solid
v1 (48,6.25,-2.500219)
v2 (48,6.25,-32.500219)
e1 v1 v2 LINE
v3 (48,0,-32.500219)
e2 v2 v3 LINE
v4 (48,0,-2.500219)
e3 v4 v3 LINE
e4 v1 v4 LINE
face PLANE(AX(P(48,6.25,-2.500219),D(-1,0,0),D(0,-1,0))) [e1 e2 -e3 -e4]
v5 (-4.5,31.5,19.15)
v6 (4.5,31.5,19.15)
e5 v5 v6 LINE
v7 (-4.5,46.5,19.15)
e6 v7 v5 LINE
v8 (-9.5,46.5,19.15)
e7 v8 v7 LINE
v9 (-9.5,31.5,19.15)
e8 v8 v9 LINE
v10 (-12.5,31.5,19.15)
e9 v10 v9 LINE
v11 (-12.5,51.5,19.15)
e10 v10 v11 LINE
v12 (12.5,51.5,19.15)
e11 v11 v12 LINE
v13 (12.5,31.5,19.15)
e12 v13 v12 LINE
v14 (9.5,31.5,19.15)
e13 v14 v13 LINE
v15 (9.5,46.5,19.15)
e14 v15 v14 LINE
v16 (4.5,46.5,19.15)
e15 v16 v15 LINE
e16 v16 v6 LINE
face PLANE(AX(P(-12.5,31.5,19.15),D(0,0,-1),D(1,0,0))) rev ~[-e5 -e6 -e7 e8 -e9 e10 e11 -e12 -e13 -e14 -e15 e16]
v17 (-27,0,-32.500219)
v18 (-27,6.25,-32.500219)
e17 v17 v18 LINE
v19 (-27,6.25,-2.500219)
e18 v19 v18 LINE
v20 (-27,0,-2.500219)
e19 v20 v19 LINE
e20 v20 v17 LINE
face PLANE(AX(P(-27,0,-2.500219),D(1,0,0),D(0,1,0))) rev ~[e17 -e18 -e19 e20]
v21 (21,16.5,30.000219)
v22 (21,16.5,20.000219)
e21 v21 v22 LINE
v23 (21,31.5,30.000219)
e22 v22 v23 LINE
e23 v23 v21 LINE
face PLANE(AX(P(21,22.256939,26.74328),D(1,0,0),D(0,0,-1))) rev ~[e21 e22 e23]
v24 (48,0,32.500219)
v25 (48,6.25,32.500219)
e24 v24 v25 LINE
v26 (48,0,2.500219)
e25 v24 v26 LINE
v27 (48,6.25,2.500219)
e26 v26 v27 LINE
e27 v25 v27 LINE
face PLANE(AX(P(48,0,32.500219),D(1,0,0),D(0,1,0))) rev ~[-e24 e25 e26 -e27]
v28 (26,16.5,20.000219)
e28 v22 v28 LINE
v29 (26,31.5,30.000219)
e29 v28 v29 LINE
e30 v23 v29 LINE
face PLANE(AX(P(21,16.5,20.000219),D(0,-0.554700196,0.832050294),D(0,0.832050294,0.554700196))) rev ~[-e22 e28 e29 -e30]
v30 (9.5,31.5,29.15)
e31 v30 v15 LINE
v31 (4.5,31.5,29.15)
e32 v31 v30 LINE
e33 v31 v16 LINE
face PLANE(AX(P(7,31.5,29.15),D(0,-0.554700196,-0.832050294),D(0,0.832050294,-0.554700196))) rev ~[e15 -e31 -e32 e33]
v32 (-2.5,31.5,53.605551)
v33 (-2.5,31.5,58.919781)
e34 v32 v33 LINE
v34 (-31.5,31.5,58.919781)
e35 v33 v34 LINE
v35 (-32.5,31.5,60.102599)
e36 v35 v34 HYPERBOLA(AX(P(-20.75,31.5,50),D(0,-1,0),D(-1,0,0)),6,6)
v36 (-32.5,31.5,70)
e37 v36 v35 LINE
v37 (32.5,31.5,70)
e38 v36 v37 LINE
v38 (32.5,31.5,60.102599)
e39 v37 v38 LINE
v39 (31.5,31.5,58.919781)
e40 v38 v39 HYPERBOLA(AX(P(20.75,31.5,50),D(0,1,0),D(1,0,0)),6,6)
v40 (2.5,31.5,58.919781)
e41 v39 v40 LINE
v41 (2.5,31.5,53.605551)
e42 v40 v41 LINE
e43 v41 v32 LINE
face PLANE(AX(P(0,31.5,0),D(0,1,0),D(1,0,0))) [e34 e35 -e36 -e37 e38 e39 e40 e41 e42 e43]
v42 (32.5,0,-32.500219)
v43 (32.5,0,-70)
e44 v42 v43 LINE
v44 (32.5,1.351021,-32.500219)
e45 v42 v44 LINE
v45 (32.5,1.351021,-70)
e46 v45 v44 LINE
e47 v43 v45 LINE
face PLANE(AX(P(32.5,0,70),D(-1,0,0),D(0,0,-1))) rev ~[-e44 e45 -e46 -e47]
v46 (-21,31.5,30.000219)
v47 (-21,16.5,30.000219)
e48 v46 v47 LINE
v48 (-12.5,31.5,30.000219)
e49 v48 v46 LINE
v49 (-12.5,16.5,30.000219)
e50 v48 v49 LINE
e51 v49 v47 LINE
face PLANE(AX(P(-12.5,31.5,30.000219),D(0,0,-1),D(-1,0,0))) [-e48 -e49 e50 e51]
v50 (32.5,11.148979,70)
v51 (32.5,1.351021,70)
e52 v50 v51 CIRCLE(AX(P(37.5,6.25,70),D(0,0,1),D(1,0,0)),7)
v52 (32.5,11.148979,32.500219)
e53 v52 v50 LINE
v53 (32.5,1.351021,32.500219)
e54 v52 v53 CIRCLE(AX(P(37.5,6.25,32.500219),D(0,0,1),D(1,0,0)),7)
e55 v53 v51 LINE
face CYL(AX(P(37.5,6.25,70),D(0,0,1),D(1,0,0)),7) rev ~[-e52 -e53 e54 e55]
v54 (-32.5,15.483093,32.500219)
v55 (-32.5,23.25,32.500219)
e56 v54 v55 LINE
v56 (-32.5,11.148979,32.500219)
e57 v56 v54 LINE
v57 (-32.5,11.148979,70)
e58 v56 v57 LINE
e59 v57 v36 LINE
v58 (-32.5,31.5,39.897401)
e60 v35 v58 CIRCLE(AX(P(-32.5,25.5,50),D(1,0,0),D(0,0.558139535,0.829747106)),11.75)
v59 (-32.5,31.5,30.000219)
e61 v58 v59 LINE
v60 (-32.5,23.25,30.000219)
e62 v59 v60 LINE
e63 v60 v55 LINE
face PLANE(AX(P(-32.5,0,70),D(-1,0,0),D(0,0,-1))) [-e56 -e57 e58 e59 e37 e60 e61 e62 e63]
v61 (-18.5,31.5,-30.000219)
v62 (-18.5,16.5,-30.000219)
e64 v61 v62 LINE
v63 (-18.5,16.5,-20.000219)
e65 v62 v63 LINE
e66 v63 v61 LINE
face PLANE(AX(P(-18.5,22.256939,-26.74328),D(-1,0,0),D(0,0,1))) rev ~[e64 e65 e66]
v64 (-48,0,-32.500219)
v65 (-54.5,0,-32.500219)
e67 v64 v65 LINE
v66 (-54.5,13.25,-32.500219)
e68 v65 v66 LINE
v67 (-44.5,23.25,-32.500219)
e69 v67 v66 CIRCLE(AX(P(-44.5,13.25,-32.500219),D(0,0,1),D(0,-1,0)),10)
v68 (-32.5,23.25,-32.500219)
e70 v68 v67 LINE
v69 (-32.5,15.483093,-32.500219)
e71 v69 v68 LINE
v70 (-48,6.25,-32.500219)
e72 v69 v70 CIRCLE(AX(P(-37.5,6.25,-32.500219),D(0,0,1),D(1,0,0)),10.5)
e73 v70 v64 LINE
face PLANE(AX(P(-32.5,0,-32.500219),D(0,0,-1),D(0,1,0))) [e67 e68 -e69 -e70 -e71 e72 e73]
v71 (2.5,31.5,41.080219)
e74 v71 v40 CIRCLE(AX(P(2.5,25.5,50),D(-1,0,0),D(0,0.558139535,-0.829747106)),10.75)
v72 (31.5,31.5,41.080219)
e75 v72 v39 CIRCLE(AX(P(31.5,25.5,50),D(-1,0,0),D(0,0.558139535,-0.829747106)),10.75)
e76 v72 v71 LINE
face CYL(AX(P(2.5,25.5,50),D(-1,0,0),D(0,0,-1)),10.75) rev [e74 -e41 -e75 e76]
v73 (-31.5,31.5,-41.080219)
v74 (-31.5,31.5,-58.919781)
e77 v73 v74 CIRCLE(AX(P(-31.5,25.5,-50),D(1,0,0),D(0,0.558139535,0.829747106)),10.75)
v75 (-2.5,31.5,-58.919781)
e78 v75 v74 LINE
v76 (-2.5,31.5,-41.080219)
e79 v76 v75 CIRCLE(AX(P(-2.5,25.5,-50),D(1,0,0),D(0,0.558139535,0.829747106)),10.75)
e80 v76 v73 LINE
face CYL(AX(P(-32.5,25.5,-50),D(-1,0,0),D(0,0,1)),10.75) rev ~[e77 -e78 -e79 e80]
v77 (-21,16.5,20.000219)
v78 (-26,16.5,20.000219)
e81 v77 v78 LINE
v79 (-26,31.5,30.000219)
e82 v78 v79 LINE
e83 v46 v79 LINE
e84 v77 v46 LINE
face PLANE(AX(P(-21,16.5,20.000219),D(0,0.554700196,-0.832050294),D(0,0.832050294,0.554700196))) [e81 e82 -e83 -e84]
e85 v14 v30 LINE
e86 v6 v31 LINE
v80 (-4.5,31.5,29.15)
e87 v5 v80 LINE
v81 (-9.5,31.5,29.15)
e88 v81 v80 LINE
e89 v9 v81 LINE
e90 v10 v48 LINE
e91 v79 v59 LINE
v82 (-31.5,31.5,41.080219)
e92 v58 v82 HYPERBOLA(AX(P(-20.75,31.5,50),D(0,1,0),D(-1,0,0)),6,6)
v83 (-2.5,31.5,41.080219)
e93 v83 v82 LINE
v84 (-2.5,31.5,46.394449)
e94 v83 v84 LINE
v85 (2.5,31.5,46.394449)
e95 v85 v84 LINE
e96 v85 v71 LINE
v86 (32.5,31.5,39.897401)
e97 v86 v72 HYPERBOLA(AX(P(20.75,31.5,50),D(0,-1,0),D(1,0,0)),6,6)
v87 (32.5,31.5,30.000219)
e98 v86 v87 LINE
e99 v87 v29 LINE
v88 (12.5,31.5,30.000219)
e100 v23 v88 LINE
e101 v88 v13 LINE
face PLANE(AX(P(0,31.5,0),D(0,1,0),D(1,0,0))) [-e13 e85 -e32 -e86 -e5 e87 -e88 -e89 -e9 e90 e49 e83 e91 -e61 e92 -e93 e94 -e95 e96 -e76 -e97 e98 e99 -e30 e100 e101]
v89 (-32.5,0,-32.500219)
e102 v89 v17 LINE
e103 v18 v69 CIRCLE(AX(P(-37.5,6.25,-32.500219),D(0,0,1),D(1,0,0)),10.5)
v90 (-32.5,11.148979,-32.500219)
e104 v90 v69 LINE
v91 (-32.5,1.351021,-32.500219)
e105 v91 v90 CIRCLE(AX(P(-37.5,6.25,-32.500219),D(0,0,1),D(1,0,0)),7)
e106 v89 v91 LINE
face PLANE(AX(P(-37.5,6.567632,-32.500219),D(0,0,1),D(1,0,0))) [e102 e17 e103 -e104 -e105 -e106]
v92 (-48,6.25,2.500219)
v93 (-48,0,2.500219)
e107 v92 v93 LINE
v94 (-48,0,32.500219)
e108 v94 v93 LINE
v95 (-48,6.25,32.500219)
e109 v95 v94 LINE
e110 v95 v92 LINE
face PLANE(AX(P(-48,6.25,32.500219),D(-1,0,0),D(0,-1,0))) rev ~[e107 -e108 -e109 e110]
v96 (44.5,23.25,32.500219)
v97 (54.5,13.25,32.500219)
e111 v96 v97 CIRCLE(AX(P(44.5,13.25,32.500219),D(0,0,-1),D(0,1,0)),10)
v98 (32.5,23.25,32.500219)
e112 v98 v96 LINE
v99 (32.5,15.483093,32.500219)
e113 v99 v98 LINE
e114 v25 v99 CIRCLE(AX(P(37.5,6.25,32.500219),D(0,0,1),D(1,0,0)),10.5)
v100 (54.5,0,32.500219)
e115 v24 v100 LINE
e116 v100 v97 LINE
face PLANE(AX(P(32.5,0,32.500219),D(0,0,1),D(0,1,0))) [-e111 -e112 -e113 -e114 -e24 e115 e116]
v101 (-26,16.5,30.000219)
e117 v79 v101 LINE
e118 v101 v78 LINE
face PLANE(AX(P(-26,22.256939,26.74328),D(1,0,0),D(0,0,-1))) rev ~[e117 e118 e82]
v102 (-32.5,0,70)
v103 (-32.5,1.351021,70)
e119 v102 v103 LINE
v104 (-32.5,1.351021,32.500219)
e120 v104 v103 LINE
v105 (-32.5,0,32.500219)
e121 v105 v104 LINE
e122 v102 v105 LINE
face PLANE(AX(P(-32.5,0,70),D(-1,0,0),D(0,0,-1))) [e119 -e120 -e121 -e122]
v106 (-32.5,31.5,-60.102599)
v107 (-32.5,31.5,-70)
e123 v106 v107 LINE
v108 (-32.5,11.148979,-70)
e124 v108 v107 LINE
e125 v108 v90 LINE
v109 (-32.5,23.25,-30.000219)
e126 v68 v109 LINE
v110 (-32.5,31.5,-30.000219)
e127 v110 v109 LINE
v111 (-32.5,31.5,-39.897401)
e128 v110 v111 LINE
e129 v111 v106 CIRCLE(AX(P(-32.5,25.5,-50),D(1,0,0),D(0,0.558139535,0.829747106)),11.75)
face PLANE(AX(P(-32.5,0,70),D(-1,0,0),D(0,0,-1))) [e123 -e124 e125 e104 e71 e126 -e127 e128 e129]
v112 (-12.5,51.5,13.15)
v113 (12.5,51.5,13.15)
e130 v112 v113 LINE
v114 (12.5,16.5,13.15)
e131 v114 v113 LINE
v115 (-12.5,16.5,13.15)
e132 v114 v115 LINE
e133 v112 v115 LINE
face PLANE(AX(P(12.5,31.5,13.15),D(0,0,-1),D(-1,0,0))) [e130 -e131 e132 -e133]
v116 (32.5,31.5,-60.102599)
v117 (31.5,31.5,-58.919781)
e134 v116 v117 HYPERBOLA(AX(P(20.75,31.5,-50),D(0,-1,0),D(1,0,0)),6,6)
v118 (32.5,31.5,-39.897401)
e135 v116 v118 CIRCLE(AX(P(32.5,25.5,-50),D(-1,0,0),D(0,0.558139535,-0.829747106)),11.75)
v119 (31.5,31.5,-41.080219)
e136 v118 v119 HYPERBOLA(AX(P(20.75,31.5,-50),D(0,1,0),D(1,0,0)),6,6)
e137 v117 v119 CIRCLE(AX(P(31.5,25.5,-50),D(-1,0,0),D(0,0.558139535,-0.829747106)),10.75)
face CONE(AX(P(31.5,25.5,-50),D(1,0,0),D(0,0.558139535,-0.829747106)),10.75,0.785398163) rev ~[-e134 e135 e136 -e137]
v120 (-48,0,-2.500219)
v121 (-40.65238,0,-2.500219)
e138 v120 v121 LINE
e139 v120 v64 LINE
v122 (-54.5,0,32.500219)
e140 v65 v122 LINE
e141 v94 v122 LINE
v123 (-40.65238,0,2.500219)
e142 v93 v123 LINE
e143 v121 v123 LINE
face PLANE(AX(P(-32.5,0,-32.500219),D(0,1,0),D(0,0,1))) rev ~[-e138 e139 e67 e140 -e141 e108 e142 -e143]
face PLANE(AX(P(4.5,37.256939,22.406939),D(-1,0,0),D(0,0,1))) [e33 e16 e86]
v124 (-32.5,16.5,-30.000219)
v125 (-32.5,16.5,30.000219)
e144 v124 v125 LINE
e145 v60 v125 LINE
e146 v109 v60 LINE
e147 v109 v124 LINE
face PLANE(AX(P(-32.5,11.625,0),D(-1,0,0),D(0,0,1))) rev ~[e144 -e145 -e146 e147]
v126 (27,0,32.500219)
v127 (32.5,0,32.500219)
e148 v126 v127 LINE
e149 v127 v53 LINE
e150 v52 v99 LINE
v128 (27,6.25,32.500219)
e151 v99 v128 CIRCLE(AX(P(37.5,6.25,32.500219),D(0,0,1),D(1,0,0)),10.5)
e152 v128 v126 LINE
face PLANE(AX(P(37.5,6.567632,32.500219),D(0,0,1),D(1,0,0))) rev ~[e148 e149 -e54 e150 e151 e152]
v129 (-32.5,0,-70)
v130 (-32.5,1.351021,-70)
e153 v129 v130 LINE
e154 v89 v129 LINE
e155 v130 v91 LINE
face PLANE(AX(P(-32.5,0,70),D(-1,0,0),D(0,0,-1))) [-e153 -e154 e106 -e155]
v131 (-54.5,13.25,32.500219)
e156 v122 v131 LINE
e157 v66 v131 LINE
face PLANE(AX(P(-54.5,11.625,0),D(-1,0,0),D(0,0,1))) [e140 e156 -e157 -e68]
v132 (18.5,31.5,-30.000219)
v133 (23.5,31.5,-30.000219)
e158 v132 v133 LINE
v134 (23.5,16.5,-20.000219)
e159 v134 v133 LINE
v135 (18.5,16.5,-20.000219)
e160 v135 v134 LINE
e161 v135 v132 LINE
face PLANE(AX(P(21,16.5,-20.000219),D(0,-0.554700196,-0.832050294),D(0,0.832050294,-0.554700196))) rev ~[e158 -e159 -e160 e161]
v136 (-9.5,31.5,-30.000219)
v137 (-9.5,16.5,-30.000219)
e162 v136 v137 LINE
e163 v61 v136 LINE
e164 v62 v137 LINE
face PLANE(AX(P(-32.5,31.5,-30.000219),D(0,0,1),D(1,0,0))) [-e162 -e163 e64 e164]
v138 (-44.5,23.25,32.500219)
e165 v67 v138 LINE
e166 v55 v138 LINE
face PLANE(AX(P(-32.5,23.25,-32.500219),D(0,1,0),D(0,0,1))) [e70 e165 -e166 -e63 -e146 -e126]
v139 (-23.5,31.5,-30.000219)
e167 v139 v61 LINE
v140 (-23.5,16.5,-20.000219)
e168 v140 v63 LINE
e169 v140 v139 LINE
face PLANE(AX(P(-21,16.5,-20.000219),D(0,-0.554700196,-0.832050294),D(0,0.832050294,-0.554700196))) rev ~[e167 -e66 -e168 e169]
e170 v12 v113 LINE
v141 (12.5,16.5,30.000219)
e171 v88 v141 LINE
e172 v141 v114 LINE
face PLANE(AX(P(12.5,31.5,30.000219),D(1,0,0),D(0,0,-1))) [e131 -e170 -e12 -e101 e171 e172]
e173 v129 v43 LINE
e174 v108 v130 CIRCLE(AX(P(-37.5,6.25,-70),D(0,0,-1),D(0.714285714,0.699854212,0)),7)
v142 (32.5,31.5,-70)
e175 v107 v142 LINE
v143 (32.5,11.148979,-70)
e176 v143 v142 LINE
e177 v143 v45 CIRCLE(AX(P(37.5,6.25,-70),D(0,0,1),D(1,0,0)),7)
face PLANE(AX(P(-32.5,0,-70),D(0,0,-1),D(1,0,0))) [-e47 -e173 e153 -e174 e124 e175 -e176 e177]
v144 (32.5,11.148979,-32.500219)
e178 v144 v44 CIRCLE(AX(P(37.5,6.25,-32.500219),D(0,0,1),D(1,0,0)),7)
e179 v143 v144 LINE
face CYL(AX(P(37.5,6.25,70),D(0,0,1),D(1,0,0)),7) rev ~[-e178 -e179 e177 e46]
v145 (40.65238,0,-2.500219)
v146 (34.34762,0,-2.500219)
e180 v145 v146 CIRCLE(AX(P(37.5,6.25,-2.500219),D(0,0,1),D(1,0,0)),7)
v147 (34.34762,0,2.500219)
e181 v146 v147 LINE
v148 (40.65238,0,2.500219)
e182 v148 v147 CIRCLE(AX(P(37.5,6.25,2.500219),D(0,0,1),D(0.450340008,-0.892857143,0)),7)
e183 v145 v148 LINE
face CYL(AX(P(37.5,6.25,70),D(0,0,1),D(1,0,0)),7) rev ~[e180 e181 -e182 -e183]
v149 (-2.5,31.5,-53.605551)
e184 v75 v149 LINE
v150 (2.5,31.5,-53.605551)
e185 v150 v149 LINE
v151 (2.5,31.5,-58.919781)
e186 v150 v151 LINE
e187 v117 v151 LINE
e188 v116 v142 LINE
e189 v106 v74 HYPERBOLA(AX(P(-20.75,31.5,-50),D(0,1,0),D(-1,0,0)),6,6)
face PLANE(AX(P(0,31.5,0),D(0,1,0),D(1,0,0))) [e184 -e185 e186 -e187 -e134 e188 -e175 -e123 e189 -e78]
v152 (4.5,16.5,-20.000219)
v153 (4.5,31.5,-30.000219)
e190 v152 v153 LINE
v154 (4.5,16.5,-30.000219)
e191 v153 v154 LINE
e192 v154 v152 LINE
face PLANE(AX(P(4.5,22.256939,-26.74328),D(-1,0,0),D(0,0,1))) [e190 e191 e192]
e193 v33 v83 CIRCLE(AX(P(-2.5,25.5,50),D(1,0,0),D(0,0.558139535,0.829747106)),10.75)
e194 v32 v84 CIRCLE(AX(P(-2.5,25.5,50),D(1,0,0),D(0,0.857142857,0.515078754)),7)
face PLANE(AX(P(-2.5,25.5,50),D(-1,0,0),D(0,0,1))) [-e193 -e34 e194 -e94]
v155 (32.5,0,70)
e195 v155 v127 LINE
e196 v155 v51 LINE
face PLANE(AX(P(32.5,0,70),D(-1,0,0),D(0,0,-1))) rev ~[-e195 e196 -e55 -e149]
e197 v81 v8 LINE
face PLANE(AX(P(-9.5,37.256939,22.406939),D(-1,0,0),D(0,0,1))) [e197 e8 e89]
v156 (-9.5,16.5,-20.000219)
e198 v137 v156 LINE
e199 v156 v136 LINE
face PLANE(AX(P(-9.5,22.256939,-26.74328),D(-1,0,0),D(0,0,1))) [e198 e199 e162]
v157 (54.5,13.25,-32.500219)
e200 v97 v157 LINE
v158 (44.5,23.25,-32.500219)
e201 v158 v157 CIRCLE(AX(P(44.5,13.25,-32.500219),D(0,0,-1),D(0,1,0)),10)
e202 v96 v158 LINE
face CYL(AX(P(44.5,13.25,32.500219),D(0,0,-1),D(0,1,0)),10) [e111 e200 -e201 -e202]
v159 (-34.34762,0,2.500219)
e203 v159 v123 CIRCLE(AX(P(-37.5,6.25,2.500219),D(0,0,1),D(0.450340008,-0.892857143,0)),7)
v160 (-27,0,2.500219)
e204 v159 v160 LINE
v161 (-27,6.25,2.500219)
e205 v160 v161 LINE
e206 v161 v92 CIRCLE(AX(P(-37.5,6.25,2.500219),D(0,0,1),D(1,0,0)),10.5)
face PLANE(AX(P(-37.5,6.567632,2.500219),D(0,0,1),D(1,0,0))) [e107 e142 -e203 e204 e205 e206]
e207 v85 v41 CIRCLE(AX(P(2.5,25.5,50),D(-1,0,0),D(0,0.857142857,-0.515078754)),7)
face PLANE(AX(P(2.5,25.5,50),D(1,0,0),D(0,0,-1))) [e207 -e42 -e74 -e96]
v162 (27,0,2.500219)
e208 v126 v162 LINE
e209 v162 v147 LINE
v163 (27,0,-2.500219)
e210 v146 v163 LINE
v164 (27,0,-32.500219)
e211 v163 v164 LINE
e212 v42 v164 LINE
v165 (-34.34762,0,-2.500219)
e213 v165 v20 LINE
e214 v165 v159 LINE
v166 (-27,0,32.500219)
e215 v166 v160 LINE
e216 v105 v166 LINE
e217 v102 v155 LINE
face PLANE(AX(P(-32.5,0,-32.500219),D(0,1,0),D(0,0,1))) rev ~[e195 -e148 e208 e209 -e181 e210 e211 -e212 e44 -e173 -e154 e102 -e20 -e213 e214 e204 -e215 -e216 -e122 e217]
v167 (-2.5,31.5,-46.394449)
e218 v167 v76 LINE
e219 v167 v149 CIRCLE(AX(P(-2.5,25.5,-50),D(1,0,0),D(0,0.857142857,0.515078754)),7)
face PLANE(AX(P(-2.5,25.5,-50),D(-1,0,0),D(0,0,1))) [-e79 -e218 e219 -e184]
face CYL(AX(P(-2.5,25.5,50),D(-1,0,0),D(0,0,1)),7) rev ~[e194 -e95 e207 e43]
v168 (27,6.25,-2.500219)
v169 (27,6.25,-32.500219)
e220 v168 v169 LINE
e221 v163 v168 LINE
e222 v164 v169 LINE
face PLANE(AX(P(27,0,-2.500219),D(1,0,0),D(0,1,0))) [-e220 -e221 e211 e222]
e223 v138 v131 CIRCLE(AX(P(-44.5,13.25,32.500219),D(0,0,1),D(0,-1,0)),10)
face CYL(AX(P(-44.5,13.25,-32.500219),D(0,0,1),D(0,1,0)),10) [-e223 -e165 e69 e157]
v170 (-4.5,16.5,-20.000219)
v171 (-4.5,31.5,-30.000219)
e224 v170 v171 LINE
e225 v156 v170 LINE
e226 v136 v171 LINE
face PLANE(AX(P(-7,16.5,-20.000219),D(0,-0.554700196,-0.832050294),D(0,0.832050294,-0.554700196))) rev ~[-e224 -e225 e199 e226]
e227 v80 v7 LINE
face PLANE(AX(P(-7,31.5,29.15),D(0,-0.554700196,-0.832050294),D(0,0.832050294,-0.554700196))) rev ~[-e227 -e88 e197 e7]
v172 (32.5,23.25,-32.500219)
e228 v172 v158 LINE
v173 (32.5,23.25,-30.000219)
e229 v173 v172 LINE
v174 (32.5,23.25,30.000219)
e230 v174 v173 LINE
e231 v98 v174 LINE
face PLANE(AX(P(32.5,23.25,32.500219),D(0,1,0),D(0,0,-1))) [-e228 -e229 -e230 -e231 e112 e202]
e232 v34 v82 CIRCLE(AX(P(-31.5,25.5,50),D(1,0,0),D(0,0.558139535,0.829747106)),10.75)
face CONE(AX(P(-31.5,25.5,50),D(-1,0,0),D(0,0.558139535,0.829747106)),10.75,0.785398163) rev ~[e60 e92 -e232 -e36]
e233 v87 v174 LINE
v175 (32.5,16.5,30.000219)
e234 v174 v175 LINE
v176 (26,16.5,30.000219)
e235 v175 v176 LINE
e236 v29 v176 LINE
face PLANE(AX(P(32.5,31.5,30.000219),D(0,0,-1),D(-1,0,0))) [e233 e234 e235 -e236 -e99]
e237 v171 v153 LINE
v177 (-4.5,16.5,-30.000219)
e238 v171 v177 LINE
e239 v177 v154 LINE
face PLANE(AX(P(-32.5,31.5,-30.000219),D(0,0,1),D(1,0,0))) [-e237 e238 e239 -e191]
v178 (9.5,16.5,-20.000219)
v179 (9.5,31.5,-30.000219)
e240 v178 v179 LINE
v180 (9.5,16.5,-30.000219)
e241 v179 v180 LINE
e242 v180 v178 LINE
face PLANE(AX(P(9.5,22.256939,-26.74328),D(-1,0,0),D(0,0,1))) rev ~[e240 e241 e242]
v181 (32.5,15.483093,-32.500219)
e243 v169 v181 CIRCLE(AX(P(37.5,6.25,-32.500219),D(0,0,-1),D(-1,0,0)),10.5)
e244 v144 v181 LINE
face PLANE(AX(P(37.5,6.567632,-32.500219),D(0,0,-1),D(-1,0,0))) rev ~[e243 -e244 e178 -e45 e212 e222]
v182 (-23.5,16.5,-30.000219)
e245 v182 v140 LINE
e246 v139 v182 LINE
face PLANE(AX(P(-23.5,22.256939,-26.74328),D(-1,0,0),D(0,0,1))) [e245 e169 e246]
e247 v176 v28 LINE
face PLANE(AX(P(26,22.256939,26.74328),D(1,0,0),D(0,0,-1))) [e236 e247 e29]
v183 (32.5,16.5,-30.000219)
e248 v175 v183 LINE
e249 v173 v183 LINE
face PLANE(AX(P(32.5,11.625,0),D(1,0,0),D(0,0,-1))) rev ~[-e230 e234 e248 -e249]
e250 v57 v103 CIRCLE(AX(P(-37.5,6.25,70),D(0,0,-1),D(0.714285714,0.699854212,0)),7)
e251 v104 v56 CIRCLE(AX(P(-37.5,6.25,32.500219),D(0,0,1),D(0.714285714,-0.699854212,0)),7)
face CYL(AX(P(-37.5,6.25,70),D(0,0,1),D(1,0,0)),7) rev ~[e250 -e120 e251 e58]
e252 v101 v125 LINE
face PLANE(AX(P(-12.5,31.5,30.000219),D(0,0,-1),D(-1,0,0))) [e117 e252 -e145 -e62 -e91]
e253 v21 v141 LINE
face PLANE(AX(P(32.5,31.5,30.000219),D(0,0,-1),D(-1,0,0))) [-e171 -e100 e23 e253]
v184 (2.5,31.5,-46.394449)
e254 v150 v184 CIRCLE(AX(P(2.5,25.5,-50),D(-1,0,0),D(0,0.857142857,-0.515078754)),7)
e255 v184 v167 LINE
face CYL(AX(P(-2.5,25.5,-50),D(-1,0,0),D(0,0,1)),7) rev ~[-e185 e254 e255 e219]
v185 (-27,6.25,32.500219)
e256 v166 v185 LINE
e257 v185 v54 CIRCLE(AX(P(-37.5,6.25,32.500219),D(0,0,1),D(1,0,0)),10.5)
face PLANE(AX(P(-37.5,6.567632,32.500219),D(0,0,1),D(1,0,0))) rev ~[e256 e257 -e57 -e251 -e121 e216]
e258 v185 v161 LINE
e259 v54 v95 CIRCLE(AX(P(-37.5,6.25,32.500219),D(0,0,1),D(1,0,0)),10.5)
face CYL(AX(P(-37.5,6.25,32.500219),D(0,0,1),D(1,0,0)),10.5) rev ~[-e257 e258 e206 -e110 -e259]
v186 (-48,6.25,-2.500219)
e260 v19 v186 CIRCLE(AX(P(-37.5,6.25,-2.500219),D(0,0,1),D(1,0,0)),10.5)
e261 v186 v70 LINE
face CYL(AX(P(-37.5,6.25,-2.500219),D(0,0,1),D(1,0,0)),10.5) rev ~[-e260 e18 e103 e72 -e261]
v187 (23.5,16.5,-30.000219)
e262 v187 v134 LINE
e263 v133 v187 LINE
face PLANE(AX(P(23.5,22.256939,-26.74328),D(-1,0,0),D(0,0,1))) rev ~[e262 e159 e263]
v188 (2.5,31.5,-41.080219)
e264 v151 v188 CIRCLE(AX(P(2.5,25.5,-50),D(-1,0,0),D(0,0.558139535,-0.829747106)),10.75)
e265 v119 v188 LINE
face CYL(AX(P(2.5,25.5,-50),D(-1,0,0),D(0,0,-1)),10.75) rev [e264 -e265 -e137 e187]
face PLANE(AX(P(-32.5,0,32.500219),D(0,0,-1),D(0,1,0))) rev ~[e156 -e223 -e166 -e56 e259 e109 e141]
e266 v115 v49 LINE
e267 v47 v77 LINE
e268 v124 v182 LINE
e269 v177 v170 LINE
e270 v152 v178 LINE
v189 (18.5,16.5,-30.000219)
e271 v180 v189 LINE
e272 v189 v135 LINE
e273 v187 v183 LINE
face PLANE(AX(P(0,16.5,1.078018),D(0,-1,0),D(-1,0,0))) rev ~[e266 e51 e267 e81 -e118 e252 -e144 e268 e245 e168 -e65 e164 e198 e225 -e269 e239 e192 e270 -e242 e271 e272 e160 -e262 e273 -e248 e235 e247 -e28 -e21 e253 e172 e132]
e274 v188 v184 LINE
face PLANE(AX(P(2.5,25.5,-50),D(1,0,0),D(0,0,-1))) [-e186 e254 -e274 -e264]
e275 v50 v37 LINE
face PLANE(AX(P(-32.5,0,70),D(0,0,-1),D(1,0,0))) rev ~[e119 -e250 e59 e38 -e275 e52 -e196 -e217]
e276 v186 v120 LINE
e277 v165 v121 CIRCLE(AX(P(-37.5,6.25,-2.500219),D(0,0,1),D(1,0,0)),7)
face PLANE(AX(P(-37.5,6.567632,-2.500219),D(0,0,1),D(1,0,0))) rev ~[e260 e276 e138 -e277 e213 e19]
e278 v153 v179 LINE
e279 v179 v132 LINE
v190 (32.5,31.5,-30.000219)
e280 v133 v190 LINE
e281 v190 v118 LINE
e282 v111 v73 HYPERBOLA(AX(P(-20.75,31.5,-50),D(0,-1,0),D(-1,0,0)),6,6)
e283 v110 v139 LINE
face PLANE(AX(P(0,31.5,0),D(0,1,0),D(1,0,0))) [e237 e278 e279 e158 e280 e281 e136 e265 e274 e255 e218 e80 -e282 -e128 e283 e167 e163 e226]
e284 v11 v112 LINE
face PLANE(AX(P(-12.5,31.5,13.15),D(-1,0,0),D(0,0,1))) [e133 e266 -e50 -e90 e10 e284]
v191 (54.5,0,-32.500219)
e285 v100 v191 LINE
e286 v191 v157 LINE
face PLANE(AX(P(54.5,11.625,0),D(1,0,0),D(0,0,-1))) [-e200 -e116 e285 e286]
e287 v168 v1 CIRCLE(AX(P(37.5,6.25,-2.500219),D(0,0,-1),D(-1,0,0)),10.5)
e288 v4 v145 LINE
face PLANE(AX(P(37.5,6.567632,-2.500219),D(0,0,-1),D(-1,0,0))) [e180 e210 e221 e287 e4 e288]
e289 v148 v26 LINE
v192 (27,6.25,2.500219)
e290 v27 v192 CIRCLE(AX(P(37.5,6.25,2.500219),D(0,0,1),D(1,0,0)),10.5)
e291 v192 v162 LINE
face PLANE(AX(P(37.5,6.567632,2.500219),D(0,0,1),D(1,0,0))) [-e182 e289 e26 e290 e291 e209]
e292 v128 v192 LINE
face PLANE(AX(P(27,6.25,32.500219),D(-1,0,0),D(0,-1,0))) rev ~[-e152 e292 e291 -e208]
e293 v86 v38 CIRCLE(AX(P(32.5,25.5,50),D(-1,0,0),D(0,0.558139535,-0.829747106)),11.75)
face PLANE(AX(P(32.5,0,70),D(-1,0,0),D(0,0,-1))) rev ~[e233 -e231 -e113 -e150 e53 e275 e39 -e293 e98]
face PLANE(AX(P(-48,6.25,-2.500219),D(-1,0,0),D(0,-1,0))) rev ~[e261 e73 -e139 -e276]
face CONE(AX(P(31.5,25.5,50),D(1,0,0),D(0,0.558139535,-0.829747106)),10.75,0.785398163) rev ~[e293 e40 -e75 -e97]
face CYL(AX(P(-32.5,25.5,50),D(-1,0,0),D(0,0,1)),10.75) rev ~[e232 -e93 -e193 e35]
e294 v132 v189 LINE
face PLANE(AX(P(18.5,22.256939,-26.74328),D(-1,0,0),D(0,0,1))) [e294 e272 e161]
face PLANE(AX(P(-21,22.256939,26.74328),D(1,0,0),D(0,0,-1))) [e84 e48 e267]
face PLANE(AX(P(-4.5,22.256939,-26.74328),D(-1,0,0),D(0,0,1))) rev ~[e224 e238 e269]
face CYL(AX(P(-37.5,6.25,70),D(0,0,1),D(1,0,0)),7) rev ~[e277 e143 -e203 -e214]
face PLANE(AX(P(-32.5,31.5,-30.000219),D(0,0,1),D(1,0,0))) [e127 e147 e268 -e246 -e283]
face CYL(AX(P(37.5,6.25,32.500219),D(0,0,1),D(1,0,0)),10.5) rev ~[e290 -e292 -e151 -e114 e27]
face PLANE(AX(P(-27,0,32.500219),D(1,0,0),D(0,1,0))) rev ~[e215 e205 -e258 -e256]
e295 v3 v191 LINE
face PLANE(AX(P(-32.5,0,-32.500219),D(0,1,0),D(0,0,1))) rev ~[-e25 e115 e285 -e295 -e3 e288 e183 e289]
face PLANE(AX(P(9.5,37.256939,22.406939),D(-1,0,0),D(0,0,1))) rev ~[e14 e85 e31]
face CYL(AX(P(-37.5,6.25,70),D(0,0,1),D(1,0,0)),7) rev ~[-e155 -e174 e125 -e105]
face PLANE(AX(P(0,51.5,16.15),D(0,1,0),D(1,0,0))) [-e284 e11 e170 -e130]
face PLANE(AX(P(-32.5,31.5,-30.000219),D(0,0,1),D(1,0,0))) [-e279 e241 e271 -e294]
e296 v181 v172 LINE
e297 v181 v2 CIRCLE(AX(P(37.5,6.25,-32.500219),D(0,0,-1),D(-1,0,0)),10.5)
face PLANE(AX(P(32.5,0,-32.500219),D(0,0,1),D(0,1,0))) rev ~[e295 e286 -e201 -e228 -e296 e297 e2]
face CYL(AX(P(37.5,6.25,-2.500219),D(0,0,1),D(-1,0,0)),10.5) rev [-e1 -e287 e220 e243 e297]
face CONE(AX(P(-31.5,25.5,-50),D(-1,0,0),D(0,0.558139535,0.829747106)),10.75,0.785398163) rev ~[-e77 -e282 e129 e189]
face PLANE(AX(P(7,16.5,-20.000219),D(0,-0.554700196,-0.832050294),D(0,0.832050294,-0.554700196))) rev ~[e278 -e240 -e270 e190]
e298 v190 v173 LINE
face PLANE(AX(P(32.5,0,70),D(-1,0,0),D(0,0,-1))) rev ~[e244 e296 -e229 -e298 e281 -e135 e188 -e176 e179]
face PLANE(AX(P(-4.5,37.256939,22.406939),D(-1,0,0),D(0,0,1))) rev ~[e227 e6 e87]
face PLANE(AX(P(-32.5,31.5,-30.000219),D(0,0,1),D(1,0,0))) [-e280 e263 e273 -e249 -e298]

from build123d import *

# Parameters (mm, degrees)
SKETCH_1_W           = 65
SKETCH_1_H           = 140
EXTRUDE_1_DEPTH      = 31.5
SKETCH_2_R           = 10.75
CUT_EXTRUDE_1_DEPTH  = 30
CUT_EXTRUDE_START    = -30
SKETCH_3_R           = 10.75
CUT_EXTRUDE_2_DEPTH  = 30
CHAMFER_1_SIZE       = 1
CHAMFER_2_SIZE       = 1
SKETCH_4_W           = 25
SKETCH_4_H           = 6
EXTRUDE_2_DEPTH      = 20
EXTRUDE_4_DEPTH      = 2.5
EXTRUDE_5_DEPTH      = 2.5
CUT_EXTRUDE_3_DEPTH  = 15
EXTRUDE_6_DEPTH      = 2.5
EXTRUDE_7_DEPTH      = 2.5
EXTRUDE_8_DEPTH      = 2.5
EXTRUDE_9_DEPTH      = 2.5
EXTRUDE_10_DEPTH     = 5
EXTRUDE_11_DEPTH     = 5
SKETCH_18_R          = 7
CUT_EXTRUDE_7_DEPTH  = 94.686978818
SKETCH_19_W          = 65.000437226
SKETCH_19_H          = 23.25
EXTRUDE_12_DEPTH     = 22
SKETCH_20_W          = 65.000437226
SKETCH_20_H          = 23.25
EXTRUDE_13_DEPTH     = 22
CUT_EXTRUDE_8_DEPTH  = 30
SKETCH_22_R          = 7
CUT_EXTRUDE_9_DEPTH  = 159.815931191
CUT_EXTRUDE_10_DEPTH = 30
FILLET_7_R           = 10


with BuildPart() as part:
    # 草图1 → 凸台-拉伸1 (new body)
    with BuildSketch(Plane(origin=(0, 0, 0), x_dir=(1, 0, 0), z_dir=(0, 1, 0))):
        Rectangle(SKETCH_1_W, SKETCH_1_H)
    extrude(amount=EXTRUDE_1_DEPTH)

    # 草图2 → 切除-拉伸1 (cut)
    with BuildSketch(Plane.ZY.offset(32.5)):
        with Locations((-50, 25.5)):
            Circle(SKETCH_2_R)
        with Locations((50, 25.5)):
            Circle(SKETCH_2_R)
    extrude(amount=-CUT_EXTRUDE_1_DEPTH, mode=Mode.SUBTRACT)

    # 草图3 → 切除-拉伸2 (cut)
    with BuildSketch(Plane(origin=(32.5, 0, 0), x_dir=(0, 0, -1), z_dir=(1, 0, 0)).offset(CUT_EXTRUDE_START)):
        with Locations((-50, 25.5)):
            Circle(SKETCH_3_R)
        with Locations((50, 25.5)):
            Circle(SKETCH_3_R)
    extrude(amount=CUT_EXTRUDE_2_DEPTH, mode=Mode.SUBTRACT)

    # 倒角1
    chamfer_1_edges = [part.edges().sort_by_distance(p)[0] for p in [
        (32.5, 14.75, 50),
    ]]
    chamfer(chamfer_1_edges, length=CHAMFER_1_SIZE)

    # 倒角2
    chamfer_2_edges = [part.edges().sort_by_distance(p)[0] for p in [
        (-32.5, 14.75, -50),
        (-32.5, 14.75, 50),
        (32.5, 14.75, -50),
    ]]
    chamfer(chamfer_2_edges, length=CHAMFER_2_SIZE)

    # 草图4 → 凸台-拉伸2 (add)
    with BuildSketch(Plane(origin=(0, 31.5, 0), x_dir=(1, 0, 0), z_dir=(0, 1, 0))):
        with Locations((0, -16.15)):
            Rectangle(SKETCH_4_W, SKETCH_4_H)
    extrude(amount=EXTRUDE_2_DEPTH)

    # 草图7 → 凸台-拉伸4 (add, symmetric)
    with BuildSketch(Plane(origin=(7, 0, 0), x_dir=(0, 0, -1), z_dir=(1, 0, 0))):
        Polygon((-19.15, 46.5), (-19.15, 31.5), (-29.15, 31.5), align=None)
    extrude(amount=EXTRUDE_4_DEPTH, both=True)

    # 草图8 → 凸台-拉伸5 (add, symmetric)
    with BuildSketch(Plane(origin=(-7, 0, 0), x_dir=(0, 0, -1), z_dir=(1, 0, 0))):
        Polygon((-19.15, 46.5), (-19.15, 31.5), (-29.15, 31.5), align=None)
    extrude(amount=EXTRUDE_5_DEPTH, both=True)

    # 草图9 → 切除-拉伸3 (cut)
    with BuildSketch(Plane(origin=(0, 31.5, 0), x_dir=(1, 0, 0), z_dir=(0, 1, 0))):
        Polygon((-32.5, 30.000218613), (32.5, 30.000218613), (32.5, -13.15), (32.5, -30.000218613), (12.5, -30.000218613), (12.5, -13.15), (-12.5, -13.15), (-12.5, -30.000218613), (-32.5, -30.000218613), (-32.5, -13.15), align=None)
    extrude(amount=-CUT_EXTRUDE_3_DEPTH, mode=Mode.SUBTRACT)

    # 草图11 → 凸台-拉伸6 (add, symmetric)
    with BuildSketch(Plane(origin=(7, 0, 0), x_dir=(0, 0, -1), z_dir=(1, 0, 0))):
        Polygon((30.000218613, 31.5), (30.000218613, 16.5), (20.000218613, 16.5), align=None)
    extrude(amount=EXTRUDE_6_DEPTH, both=True)

    # 草图13 → 凸台-拉伸7 (add, symmetric)
    with BuildSketch(Plane(origin=(21, 0, 0), x_dir=(0, 0, -1), z_dir=(1, 0, 0))):
        Polygon((30.000218613, 31.5), (30.000218613, 16.5), (20.000218613, 16.5), align=None)
    extrude(amount=EXTRUDE_7_DEPTH, both=True)

    # 草图12 → 凸台-拉伸8 (add, symmetric)
    with BuildSketch(Plane(origin=(-7, 0, 0), x_dir=(0, 0, -1), z_dir=(1, 0, 0))):
        Polygon((30.000218613, 31.5), (30.000218613, 16.5), (20.000218613, 16.5), align=None)
    extrude(amount=EXTRUDE_8_DEPTH, both=True)

    # 草图14 → 凸台-拉伸9 (add, symmetric)
    with BuildSketch(Plane(origin=(-21, 0, 0), x_dir=(0, 0, -1), z_dir=(1, 0, 0))):
        Polygon((30.000218613, 31.5), (30.000218613, 16.5), (20.000218613, 16.5), align=None)
    extrude(amount=EXTRUDE_9_DEPTH, both=True)

    # 草图15 → 凸台-拉伸10 (add)
    with BuildSketch(Plane(origin=(-21, 0, 0), x_dir=(0, 0, -1), z_dir=(1, 0, 0))):
        Polygon((-30.000218613, 31.5), (-30.000218613, 16.5), (-20.000218613, 16.5), align=None)
    extrude(amount=-EXTRUDE_10_DEPTH)

    # 草图16 → 凸台-拉伸11 (add)
    with BuildSketch(Plane(origin=(21, 0, 0), x_dir=(0, 0, -1), z_dir=(1, 0, 0))):
        Polygon((-30.000218613, 31.5), (-30.000218613, 16.5), (-20.000218613, 16.5), align=None)
    extrude(amount=EXTRUDE_11_DEPTH)

    # 草图18 → 切除-拉伸7 (cut, through all)
    with BuildSketch(Plane.ZY.offset(2.5)):
        with Locations((50, 25.5)):
            Circle(SKETCH_18_R)
        with Locations((-50, 25.5)):
            Circle(SKETCH_18_R)
    extrude(amount=-CUT_EXTRUDE_7_DEPTH, mode=Mode.SUBTRACT)

    # 草图19 → 凸台-拉伸12 (add)
    with BuildSketch(Plane(origin=(32.5, 0, 0), x_dir=(0, 0, -1), z_dir=(1, 0, 0))):
        with Locations((0, 11.625)):
            Rectangle(SKETCH_19_W, SKETCH_19_H)
    extrude(amount=EXTRUDE_12_DEPTH)

    # 草图20 → 凸台-拉伸13 (add)
    with BuildSketch(Plane.ZY.offset(32.5)):
        with Locations((0, 11.625)):
            Rectangle(SKETCH_20_W, SKETCH_20_H)
    extrude(amount=EXTRUDE_13_DEPTH)

    # 草图21 → 切除-拉伸8 (cut)
    with BuildSketch(Plane.XY.offset(32.500218613)):
        with BuildLine():
            Line((-48, 6.25), (-48, 0))
            Line((-48, 0), (-27, 0))
            Line((-27, 0), (-27, 6.25))
            ThreePointArc((-27, 6.25), (-37.5, 16.75), (-48, 6.25))
        make_face()
        with BuildLine():
            Line((27, 6.25), (27, 0))
            Line((27, 0), (48, 0))
            Line((48, 0), (48, 6.25))
            ThreePointArc((48, 6.25), (37.5, 16.75), (27, 6.25))
        make_face()
    extrude(amount=-CUT_EXTRUDE_8_DEPTH, mode=Mode.SUBTRACT)

    # 草图22 → 切除-拉伸9 (cut, through all)
    with BuildSketch(Plane.XY.offset(70)):
        with Locations((-37.5, 6.25)):
            Circle(SKETCH_22_R)
        with Locations((37.5, 6.25)):
            Circle(SKETCH_22_R)
    extrude(amount=-CUT_EXTRUDE_9_DEPTH, mode=Mode.SUBTRACT)

    # 草图23 → 切除-拉伸10 (cut)
    with BuildSketch(Plane(origin=(0, 0, -32.500218613), x_dir=(-1, 0, 0), z_dir=(0, 0, -1)).offset(CUT_EXTRUDE_START)):
        with BuildLine():
            Line((-48, 6.25), (-48, 0))
            Line((-48, 0), (-27, 0))
            Line((-27, 0), (-27, 6.25))
            ThreePointArc((-27, 6.25), (-37.5, 16.75), (-48, 6.25))
        make_face()
        with BuildLine():
            Line((48, 6.25), (48, 0))
            Line((48, 0), (27, 0))
            Line((27, 0), (27, 6.25))
            ThreePointArc((27, 6.25), (37.5, 16.75), (48, 6.25))
        make_face()
    extrude(amount=CUT_EXTRUDE_10_DEPTH, mode=Mode.SUBTRACT)

    # 圆角7
    fillet_7_edges = [part.edges().sort_by_distance(p)[0] for p in [
        (54.5, 23.25, 0),
        (-54.5, 23.25, 0),
    ]]
    fillet(fillet_7_edges, radius=FILLET_7_R)


solid = part.part
